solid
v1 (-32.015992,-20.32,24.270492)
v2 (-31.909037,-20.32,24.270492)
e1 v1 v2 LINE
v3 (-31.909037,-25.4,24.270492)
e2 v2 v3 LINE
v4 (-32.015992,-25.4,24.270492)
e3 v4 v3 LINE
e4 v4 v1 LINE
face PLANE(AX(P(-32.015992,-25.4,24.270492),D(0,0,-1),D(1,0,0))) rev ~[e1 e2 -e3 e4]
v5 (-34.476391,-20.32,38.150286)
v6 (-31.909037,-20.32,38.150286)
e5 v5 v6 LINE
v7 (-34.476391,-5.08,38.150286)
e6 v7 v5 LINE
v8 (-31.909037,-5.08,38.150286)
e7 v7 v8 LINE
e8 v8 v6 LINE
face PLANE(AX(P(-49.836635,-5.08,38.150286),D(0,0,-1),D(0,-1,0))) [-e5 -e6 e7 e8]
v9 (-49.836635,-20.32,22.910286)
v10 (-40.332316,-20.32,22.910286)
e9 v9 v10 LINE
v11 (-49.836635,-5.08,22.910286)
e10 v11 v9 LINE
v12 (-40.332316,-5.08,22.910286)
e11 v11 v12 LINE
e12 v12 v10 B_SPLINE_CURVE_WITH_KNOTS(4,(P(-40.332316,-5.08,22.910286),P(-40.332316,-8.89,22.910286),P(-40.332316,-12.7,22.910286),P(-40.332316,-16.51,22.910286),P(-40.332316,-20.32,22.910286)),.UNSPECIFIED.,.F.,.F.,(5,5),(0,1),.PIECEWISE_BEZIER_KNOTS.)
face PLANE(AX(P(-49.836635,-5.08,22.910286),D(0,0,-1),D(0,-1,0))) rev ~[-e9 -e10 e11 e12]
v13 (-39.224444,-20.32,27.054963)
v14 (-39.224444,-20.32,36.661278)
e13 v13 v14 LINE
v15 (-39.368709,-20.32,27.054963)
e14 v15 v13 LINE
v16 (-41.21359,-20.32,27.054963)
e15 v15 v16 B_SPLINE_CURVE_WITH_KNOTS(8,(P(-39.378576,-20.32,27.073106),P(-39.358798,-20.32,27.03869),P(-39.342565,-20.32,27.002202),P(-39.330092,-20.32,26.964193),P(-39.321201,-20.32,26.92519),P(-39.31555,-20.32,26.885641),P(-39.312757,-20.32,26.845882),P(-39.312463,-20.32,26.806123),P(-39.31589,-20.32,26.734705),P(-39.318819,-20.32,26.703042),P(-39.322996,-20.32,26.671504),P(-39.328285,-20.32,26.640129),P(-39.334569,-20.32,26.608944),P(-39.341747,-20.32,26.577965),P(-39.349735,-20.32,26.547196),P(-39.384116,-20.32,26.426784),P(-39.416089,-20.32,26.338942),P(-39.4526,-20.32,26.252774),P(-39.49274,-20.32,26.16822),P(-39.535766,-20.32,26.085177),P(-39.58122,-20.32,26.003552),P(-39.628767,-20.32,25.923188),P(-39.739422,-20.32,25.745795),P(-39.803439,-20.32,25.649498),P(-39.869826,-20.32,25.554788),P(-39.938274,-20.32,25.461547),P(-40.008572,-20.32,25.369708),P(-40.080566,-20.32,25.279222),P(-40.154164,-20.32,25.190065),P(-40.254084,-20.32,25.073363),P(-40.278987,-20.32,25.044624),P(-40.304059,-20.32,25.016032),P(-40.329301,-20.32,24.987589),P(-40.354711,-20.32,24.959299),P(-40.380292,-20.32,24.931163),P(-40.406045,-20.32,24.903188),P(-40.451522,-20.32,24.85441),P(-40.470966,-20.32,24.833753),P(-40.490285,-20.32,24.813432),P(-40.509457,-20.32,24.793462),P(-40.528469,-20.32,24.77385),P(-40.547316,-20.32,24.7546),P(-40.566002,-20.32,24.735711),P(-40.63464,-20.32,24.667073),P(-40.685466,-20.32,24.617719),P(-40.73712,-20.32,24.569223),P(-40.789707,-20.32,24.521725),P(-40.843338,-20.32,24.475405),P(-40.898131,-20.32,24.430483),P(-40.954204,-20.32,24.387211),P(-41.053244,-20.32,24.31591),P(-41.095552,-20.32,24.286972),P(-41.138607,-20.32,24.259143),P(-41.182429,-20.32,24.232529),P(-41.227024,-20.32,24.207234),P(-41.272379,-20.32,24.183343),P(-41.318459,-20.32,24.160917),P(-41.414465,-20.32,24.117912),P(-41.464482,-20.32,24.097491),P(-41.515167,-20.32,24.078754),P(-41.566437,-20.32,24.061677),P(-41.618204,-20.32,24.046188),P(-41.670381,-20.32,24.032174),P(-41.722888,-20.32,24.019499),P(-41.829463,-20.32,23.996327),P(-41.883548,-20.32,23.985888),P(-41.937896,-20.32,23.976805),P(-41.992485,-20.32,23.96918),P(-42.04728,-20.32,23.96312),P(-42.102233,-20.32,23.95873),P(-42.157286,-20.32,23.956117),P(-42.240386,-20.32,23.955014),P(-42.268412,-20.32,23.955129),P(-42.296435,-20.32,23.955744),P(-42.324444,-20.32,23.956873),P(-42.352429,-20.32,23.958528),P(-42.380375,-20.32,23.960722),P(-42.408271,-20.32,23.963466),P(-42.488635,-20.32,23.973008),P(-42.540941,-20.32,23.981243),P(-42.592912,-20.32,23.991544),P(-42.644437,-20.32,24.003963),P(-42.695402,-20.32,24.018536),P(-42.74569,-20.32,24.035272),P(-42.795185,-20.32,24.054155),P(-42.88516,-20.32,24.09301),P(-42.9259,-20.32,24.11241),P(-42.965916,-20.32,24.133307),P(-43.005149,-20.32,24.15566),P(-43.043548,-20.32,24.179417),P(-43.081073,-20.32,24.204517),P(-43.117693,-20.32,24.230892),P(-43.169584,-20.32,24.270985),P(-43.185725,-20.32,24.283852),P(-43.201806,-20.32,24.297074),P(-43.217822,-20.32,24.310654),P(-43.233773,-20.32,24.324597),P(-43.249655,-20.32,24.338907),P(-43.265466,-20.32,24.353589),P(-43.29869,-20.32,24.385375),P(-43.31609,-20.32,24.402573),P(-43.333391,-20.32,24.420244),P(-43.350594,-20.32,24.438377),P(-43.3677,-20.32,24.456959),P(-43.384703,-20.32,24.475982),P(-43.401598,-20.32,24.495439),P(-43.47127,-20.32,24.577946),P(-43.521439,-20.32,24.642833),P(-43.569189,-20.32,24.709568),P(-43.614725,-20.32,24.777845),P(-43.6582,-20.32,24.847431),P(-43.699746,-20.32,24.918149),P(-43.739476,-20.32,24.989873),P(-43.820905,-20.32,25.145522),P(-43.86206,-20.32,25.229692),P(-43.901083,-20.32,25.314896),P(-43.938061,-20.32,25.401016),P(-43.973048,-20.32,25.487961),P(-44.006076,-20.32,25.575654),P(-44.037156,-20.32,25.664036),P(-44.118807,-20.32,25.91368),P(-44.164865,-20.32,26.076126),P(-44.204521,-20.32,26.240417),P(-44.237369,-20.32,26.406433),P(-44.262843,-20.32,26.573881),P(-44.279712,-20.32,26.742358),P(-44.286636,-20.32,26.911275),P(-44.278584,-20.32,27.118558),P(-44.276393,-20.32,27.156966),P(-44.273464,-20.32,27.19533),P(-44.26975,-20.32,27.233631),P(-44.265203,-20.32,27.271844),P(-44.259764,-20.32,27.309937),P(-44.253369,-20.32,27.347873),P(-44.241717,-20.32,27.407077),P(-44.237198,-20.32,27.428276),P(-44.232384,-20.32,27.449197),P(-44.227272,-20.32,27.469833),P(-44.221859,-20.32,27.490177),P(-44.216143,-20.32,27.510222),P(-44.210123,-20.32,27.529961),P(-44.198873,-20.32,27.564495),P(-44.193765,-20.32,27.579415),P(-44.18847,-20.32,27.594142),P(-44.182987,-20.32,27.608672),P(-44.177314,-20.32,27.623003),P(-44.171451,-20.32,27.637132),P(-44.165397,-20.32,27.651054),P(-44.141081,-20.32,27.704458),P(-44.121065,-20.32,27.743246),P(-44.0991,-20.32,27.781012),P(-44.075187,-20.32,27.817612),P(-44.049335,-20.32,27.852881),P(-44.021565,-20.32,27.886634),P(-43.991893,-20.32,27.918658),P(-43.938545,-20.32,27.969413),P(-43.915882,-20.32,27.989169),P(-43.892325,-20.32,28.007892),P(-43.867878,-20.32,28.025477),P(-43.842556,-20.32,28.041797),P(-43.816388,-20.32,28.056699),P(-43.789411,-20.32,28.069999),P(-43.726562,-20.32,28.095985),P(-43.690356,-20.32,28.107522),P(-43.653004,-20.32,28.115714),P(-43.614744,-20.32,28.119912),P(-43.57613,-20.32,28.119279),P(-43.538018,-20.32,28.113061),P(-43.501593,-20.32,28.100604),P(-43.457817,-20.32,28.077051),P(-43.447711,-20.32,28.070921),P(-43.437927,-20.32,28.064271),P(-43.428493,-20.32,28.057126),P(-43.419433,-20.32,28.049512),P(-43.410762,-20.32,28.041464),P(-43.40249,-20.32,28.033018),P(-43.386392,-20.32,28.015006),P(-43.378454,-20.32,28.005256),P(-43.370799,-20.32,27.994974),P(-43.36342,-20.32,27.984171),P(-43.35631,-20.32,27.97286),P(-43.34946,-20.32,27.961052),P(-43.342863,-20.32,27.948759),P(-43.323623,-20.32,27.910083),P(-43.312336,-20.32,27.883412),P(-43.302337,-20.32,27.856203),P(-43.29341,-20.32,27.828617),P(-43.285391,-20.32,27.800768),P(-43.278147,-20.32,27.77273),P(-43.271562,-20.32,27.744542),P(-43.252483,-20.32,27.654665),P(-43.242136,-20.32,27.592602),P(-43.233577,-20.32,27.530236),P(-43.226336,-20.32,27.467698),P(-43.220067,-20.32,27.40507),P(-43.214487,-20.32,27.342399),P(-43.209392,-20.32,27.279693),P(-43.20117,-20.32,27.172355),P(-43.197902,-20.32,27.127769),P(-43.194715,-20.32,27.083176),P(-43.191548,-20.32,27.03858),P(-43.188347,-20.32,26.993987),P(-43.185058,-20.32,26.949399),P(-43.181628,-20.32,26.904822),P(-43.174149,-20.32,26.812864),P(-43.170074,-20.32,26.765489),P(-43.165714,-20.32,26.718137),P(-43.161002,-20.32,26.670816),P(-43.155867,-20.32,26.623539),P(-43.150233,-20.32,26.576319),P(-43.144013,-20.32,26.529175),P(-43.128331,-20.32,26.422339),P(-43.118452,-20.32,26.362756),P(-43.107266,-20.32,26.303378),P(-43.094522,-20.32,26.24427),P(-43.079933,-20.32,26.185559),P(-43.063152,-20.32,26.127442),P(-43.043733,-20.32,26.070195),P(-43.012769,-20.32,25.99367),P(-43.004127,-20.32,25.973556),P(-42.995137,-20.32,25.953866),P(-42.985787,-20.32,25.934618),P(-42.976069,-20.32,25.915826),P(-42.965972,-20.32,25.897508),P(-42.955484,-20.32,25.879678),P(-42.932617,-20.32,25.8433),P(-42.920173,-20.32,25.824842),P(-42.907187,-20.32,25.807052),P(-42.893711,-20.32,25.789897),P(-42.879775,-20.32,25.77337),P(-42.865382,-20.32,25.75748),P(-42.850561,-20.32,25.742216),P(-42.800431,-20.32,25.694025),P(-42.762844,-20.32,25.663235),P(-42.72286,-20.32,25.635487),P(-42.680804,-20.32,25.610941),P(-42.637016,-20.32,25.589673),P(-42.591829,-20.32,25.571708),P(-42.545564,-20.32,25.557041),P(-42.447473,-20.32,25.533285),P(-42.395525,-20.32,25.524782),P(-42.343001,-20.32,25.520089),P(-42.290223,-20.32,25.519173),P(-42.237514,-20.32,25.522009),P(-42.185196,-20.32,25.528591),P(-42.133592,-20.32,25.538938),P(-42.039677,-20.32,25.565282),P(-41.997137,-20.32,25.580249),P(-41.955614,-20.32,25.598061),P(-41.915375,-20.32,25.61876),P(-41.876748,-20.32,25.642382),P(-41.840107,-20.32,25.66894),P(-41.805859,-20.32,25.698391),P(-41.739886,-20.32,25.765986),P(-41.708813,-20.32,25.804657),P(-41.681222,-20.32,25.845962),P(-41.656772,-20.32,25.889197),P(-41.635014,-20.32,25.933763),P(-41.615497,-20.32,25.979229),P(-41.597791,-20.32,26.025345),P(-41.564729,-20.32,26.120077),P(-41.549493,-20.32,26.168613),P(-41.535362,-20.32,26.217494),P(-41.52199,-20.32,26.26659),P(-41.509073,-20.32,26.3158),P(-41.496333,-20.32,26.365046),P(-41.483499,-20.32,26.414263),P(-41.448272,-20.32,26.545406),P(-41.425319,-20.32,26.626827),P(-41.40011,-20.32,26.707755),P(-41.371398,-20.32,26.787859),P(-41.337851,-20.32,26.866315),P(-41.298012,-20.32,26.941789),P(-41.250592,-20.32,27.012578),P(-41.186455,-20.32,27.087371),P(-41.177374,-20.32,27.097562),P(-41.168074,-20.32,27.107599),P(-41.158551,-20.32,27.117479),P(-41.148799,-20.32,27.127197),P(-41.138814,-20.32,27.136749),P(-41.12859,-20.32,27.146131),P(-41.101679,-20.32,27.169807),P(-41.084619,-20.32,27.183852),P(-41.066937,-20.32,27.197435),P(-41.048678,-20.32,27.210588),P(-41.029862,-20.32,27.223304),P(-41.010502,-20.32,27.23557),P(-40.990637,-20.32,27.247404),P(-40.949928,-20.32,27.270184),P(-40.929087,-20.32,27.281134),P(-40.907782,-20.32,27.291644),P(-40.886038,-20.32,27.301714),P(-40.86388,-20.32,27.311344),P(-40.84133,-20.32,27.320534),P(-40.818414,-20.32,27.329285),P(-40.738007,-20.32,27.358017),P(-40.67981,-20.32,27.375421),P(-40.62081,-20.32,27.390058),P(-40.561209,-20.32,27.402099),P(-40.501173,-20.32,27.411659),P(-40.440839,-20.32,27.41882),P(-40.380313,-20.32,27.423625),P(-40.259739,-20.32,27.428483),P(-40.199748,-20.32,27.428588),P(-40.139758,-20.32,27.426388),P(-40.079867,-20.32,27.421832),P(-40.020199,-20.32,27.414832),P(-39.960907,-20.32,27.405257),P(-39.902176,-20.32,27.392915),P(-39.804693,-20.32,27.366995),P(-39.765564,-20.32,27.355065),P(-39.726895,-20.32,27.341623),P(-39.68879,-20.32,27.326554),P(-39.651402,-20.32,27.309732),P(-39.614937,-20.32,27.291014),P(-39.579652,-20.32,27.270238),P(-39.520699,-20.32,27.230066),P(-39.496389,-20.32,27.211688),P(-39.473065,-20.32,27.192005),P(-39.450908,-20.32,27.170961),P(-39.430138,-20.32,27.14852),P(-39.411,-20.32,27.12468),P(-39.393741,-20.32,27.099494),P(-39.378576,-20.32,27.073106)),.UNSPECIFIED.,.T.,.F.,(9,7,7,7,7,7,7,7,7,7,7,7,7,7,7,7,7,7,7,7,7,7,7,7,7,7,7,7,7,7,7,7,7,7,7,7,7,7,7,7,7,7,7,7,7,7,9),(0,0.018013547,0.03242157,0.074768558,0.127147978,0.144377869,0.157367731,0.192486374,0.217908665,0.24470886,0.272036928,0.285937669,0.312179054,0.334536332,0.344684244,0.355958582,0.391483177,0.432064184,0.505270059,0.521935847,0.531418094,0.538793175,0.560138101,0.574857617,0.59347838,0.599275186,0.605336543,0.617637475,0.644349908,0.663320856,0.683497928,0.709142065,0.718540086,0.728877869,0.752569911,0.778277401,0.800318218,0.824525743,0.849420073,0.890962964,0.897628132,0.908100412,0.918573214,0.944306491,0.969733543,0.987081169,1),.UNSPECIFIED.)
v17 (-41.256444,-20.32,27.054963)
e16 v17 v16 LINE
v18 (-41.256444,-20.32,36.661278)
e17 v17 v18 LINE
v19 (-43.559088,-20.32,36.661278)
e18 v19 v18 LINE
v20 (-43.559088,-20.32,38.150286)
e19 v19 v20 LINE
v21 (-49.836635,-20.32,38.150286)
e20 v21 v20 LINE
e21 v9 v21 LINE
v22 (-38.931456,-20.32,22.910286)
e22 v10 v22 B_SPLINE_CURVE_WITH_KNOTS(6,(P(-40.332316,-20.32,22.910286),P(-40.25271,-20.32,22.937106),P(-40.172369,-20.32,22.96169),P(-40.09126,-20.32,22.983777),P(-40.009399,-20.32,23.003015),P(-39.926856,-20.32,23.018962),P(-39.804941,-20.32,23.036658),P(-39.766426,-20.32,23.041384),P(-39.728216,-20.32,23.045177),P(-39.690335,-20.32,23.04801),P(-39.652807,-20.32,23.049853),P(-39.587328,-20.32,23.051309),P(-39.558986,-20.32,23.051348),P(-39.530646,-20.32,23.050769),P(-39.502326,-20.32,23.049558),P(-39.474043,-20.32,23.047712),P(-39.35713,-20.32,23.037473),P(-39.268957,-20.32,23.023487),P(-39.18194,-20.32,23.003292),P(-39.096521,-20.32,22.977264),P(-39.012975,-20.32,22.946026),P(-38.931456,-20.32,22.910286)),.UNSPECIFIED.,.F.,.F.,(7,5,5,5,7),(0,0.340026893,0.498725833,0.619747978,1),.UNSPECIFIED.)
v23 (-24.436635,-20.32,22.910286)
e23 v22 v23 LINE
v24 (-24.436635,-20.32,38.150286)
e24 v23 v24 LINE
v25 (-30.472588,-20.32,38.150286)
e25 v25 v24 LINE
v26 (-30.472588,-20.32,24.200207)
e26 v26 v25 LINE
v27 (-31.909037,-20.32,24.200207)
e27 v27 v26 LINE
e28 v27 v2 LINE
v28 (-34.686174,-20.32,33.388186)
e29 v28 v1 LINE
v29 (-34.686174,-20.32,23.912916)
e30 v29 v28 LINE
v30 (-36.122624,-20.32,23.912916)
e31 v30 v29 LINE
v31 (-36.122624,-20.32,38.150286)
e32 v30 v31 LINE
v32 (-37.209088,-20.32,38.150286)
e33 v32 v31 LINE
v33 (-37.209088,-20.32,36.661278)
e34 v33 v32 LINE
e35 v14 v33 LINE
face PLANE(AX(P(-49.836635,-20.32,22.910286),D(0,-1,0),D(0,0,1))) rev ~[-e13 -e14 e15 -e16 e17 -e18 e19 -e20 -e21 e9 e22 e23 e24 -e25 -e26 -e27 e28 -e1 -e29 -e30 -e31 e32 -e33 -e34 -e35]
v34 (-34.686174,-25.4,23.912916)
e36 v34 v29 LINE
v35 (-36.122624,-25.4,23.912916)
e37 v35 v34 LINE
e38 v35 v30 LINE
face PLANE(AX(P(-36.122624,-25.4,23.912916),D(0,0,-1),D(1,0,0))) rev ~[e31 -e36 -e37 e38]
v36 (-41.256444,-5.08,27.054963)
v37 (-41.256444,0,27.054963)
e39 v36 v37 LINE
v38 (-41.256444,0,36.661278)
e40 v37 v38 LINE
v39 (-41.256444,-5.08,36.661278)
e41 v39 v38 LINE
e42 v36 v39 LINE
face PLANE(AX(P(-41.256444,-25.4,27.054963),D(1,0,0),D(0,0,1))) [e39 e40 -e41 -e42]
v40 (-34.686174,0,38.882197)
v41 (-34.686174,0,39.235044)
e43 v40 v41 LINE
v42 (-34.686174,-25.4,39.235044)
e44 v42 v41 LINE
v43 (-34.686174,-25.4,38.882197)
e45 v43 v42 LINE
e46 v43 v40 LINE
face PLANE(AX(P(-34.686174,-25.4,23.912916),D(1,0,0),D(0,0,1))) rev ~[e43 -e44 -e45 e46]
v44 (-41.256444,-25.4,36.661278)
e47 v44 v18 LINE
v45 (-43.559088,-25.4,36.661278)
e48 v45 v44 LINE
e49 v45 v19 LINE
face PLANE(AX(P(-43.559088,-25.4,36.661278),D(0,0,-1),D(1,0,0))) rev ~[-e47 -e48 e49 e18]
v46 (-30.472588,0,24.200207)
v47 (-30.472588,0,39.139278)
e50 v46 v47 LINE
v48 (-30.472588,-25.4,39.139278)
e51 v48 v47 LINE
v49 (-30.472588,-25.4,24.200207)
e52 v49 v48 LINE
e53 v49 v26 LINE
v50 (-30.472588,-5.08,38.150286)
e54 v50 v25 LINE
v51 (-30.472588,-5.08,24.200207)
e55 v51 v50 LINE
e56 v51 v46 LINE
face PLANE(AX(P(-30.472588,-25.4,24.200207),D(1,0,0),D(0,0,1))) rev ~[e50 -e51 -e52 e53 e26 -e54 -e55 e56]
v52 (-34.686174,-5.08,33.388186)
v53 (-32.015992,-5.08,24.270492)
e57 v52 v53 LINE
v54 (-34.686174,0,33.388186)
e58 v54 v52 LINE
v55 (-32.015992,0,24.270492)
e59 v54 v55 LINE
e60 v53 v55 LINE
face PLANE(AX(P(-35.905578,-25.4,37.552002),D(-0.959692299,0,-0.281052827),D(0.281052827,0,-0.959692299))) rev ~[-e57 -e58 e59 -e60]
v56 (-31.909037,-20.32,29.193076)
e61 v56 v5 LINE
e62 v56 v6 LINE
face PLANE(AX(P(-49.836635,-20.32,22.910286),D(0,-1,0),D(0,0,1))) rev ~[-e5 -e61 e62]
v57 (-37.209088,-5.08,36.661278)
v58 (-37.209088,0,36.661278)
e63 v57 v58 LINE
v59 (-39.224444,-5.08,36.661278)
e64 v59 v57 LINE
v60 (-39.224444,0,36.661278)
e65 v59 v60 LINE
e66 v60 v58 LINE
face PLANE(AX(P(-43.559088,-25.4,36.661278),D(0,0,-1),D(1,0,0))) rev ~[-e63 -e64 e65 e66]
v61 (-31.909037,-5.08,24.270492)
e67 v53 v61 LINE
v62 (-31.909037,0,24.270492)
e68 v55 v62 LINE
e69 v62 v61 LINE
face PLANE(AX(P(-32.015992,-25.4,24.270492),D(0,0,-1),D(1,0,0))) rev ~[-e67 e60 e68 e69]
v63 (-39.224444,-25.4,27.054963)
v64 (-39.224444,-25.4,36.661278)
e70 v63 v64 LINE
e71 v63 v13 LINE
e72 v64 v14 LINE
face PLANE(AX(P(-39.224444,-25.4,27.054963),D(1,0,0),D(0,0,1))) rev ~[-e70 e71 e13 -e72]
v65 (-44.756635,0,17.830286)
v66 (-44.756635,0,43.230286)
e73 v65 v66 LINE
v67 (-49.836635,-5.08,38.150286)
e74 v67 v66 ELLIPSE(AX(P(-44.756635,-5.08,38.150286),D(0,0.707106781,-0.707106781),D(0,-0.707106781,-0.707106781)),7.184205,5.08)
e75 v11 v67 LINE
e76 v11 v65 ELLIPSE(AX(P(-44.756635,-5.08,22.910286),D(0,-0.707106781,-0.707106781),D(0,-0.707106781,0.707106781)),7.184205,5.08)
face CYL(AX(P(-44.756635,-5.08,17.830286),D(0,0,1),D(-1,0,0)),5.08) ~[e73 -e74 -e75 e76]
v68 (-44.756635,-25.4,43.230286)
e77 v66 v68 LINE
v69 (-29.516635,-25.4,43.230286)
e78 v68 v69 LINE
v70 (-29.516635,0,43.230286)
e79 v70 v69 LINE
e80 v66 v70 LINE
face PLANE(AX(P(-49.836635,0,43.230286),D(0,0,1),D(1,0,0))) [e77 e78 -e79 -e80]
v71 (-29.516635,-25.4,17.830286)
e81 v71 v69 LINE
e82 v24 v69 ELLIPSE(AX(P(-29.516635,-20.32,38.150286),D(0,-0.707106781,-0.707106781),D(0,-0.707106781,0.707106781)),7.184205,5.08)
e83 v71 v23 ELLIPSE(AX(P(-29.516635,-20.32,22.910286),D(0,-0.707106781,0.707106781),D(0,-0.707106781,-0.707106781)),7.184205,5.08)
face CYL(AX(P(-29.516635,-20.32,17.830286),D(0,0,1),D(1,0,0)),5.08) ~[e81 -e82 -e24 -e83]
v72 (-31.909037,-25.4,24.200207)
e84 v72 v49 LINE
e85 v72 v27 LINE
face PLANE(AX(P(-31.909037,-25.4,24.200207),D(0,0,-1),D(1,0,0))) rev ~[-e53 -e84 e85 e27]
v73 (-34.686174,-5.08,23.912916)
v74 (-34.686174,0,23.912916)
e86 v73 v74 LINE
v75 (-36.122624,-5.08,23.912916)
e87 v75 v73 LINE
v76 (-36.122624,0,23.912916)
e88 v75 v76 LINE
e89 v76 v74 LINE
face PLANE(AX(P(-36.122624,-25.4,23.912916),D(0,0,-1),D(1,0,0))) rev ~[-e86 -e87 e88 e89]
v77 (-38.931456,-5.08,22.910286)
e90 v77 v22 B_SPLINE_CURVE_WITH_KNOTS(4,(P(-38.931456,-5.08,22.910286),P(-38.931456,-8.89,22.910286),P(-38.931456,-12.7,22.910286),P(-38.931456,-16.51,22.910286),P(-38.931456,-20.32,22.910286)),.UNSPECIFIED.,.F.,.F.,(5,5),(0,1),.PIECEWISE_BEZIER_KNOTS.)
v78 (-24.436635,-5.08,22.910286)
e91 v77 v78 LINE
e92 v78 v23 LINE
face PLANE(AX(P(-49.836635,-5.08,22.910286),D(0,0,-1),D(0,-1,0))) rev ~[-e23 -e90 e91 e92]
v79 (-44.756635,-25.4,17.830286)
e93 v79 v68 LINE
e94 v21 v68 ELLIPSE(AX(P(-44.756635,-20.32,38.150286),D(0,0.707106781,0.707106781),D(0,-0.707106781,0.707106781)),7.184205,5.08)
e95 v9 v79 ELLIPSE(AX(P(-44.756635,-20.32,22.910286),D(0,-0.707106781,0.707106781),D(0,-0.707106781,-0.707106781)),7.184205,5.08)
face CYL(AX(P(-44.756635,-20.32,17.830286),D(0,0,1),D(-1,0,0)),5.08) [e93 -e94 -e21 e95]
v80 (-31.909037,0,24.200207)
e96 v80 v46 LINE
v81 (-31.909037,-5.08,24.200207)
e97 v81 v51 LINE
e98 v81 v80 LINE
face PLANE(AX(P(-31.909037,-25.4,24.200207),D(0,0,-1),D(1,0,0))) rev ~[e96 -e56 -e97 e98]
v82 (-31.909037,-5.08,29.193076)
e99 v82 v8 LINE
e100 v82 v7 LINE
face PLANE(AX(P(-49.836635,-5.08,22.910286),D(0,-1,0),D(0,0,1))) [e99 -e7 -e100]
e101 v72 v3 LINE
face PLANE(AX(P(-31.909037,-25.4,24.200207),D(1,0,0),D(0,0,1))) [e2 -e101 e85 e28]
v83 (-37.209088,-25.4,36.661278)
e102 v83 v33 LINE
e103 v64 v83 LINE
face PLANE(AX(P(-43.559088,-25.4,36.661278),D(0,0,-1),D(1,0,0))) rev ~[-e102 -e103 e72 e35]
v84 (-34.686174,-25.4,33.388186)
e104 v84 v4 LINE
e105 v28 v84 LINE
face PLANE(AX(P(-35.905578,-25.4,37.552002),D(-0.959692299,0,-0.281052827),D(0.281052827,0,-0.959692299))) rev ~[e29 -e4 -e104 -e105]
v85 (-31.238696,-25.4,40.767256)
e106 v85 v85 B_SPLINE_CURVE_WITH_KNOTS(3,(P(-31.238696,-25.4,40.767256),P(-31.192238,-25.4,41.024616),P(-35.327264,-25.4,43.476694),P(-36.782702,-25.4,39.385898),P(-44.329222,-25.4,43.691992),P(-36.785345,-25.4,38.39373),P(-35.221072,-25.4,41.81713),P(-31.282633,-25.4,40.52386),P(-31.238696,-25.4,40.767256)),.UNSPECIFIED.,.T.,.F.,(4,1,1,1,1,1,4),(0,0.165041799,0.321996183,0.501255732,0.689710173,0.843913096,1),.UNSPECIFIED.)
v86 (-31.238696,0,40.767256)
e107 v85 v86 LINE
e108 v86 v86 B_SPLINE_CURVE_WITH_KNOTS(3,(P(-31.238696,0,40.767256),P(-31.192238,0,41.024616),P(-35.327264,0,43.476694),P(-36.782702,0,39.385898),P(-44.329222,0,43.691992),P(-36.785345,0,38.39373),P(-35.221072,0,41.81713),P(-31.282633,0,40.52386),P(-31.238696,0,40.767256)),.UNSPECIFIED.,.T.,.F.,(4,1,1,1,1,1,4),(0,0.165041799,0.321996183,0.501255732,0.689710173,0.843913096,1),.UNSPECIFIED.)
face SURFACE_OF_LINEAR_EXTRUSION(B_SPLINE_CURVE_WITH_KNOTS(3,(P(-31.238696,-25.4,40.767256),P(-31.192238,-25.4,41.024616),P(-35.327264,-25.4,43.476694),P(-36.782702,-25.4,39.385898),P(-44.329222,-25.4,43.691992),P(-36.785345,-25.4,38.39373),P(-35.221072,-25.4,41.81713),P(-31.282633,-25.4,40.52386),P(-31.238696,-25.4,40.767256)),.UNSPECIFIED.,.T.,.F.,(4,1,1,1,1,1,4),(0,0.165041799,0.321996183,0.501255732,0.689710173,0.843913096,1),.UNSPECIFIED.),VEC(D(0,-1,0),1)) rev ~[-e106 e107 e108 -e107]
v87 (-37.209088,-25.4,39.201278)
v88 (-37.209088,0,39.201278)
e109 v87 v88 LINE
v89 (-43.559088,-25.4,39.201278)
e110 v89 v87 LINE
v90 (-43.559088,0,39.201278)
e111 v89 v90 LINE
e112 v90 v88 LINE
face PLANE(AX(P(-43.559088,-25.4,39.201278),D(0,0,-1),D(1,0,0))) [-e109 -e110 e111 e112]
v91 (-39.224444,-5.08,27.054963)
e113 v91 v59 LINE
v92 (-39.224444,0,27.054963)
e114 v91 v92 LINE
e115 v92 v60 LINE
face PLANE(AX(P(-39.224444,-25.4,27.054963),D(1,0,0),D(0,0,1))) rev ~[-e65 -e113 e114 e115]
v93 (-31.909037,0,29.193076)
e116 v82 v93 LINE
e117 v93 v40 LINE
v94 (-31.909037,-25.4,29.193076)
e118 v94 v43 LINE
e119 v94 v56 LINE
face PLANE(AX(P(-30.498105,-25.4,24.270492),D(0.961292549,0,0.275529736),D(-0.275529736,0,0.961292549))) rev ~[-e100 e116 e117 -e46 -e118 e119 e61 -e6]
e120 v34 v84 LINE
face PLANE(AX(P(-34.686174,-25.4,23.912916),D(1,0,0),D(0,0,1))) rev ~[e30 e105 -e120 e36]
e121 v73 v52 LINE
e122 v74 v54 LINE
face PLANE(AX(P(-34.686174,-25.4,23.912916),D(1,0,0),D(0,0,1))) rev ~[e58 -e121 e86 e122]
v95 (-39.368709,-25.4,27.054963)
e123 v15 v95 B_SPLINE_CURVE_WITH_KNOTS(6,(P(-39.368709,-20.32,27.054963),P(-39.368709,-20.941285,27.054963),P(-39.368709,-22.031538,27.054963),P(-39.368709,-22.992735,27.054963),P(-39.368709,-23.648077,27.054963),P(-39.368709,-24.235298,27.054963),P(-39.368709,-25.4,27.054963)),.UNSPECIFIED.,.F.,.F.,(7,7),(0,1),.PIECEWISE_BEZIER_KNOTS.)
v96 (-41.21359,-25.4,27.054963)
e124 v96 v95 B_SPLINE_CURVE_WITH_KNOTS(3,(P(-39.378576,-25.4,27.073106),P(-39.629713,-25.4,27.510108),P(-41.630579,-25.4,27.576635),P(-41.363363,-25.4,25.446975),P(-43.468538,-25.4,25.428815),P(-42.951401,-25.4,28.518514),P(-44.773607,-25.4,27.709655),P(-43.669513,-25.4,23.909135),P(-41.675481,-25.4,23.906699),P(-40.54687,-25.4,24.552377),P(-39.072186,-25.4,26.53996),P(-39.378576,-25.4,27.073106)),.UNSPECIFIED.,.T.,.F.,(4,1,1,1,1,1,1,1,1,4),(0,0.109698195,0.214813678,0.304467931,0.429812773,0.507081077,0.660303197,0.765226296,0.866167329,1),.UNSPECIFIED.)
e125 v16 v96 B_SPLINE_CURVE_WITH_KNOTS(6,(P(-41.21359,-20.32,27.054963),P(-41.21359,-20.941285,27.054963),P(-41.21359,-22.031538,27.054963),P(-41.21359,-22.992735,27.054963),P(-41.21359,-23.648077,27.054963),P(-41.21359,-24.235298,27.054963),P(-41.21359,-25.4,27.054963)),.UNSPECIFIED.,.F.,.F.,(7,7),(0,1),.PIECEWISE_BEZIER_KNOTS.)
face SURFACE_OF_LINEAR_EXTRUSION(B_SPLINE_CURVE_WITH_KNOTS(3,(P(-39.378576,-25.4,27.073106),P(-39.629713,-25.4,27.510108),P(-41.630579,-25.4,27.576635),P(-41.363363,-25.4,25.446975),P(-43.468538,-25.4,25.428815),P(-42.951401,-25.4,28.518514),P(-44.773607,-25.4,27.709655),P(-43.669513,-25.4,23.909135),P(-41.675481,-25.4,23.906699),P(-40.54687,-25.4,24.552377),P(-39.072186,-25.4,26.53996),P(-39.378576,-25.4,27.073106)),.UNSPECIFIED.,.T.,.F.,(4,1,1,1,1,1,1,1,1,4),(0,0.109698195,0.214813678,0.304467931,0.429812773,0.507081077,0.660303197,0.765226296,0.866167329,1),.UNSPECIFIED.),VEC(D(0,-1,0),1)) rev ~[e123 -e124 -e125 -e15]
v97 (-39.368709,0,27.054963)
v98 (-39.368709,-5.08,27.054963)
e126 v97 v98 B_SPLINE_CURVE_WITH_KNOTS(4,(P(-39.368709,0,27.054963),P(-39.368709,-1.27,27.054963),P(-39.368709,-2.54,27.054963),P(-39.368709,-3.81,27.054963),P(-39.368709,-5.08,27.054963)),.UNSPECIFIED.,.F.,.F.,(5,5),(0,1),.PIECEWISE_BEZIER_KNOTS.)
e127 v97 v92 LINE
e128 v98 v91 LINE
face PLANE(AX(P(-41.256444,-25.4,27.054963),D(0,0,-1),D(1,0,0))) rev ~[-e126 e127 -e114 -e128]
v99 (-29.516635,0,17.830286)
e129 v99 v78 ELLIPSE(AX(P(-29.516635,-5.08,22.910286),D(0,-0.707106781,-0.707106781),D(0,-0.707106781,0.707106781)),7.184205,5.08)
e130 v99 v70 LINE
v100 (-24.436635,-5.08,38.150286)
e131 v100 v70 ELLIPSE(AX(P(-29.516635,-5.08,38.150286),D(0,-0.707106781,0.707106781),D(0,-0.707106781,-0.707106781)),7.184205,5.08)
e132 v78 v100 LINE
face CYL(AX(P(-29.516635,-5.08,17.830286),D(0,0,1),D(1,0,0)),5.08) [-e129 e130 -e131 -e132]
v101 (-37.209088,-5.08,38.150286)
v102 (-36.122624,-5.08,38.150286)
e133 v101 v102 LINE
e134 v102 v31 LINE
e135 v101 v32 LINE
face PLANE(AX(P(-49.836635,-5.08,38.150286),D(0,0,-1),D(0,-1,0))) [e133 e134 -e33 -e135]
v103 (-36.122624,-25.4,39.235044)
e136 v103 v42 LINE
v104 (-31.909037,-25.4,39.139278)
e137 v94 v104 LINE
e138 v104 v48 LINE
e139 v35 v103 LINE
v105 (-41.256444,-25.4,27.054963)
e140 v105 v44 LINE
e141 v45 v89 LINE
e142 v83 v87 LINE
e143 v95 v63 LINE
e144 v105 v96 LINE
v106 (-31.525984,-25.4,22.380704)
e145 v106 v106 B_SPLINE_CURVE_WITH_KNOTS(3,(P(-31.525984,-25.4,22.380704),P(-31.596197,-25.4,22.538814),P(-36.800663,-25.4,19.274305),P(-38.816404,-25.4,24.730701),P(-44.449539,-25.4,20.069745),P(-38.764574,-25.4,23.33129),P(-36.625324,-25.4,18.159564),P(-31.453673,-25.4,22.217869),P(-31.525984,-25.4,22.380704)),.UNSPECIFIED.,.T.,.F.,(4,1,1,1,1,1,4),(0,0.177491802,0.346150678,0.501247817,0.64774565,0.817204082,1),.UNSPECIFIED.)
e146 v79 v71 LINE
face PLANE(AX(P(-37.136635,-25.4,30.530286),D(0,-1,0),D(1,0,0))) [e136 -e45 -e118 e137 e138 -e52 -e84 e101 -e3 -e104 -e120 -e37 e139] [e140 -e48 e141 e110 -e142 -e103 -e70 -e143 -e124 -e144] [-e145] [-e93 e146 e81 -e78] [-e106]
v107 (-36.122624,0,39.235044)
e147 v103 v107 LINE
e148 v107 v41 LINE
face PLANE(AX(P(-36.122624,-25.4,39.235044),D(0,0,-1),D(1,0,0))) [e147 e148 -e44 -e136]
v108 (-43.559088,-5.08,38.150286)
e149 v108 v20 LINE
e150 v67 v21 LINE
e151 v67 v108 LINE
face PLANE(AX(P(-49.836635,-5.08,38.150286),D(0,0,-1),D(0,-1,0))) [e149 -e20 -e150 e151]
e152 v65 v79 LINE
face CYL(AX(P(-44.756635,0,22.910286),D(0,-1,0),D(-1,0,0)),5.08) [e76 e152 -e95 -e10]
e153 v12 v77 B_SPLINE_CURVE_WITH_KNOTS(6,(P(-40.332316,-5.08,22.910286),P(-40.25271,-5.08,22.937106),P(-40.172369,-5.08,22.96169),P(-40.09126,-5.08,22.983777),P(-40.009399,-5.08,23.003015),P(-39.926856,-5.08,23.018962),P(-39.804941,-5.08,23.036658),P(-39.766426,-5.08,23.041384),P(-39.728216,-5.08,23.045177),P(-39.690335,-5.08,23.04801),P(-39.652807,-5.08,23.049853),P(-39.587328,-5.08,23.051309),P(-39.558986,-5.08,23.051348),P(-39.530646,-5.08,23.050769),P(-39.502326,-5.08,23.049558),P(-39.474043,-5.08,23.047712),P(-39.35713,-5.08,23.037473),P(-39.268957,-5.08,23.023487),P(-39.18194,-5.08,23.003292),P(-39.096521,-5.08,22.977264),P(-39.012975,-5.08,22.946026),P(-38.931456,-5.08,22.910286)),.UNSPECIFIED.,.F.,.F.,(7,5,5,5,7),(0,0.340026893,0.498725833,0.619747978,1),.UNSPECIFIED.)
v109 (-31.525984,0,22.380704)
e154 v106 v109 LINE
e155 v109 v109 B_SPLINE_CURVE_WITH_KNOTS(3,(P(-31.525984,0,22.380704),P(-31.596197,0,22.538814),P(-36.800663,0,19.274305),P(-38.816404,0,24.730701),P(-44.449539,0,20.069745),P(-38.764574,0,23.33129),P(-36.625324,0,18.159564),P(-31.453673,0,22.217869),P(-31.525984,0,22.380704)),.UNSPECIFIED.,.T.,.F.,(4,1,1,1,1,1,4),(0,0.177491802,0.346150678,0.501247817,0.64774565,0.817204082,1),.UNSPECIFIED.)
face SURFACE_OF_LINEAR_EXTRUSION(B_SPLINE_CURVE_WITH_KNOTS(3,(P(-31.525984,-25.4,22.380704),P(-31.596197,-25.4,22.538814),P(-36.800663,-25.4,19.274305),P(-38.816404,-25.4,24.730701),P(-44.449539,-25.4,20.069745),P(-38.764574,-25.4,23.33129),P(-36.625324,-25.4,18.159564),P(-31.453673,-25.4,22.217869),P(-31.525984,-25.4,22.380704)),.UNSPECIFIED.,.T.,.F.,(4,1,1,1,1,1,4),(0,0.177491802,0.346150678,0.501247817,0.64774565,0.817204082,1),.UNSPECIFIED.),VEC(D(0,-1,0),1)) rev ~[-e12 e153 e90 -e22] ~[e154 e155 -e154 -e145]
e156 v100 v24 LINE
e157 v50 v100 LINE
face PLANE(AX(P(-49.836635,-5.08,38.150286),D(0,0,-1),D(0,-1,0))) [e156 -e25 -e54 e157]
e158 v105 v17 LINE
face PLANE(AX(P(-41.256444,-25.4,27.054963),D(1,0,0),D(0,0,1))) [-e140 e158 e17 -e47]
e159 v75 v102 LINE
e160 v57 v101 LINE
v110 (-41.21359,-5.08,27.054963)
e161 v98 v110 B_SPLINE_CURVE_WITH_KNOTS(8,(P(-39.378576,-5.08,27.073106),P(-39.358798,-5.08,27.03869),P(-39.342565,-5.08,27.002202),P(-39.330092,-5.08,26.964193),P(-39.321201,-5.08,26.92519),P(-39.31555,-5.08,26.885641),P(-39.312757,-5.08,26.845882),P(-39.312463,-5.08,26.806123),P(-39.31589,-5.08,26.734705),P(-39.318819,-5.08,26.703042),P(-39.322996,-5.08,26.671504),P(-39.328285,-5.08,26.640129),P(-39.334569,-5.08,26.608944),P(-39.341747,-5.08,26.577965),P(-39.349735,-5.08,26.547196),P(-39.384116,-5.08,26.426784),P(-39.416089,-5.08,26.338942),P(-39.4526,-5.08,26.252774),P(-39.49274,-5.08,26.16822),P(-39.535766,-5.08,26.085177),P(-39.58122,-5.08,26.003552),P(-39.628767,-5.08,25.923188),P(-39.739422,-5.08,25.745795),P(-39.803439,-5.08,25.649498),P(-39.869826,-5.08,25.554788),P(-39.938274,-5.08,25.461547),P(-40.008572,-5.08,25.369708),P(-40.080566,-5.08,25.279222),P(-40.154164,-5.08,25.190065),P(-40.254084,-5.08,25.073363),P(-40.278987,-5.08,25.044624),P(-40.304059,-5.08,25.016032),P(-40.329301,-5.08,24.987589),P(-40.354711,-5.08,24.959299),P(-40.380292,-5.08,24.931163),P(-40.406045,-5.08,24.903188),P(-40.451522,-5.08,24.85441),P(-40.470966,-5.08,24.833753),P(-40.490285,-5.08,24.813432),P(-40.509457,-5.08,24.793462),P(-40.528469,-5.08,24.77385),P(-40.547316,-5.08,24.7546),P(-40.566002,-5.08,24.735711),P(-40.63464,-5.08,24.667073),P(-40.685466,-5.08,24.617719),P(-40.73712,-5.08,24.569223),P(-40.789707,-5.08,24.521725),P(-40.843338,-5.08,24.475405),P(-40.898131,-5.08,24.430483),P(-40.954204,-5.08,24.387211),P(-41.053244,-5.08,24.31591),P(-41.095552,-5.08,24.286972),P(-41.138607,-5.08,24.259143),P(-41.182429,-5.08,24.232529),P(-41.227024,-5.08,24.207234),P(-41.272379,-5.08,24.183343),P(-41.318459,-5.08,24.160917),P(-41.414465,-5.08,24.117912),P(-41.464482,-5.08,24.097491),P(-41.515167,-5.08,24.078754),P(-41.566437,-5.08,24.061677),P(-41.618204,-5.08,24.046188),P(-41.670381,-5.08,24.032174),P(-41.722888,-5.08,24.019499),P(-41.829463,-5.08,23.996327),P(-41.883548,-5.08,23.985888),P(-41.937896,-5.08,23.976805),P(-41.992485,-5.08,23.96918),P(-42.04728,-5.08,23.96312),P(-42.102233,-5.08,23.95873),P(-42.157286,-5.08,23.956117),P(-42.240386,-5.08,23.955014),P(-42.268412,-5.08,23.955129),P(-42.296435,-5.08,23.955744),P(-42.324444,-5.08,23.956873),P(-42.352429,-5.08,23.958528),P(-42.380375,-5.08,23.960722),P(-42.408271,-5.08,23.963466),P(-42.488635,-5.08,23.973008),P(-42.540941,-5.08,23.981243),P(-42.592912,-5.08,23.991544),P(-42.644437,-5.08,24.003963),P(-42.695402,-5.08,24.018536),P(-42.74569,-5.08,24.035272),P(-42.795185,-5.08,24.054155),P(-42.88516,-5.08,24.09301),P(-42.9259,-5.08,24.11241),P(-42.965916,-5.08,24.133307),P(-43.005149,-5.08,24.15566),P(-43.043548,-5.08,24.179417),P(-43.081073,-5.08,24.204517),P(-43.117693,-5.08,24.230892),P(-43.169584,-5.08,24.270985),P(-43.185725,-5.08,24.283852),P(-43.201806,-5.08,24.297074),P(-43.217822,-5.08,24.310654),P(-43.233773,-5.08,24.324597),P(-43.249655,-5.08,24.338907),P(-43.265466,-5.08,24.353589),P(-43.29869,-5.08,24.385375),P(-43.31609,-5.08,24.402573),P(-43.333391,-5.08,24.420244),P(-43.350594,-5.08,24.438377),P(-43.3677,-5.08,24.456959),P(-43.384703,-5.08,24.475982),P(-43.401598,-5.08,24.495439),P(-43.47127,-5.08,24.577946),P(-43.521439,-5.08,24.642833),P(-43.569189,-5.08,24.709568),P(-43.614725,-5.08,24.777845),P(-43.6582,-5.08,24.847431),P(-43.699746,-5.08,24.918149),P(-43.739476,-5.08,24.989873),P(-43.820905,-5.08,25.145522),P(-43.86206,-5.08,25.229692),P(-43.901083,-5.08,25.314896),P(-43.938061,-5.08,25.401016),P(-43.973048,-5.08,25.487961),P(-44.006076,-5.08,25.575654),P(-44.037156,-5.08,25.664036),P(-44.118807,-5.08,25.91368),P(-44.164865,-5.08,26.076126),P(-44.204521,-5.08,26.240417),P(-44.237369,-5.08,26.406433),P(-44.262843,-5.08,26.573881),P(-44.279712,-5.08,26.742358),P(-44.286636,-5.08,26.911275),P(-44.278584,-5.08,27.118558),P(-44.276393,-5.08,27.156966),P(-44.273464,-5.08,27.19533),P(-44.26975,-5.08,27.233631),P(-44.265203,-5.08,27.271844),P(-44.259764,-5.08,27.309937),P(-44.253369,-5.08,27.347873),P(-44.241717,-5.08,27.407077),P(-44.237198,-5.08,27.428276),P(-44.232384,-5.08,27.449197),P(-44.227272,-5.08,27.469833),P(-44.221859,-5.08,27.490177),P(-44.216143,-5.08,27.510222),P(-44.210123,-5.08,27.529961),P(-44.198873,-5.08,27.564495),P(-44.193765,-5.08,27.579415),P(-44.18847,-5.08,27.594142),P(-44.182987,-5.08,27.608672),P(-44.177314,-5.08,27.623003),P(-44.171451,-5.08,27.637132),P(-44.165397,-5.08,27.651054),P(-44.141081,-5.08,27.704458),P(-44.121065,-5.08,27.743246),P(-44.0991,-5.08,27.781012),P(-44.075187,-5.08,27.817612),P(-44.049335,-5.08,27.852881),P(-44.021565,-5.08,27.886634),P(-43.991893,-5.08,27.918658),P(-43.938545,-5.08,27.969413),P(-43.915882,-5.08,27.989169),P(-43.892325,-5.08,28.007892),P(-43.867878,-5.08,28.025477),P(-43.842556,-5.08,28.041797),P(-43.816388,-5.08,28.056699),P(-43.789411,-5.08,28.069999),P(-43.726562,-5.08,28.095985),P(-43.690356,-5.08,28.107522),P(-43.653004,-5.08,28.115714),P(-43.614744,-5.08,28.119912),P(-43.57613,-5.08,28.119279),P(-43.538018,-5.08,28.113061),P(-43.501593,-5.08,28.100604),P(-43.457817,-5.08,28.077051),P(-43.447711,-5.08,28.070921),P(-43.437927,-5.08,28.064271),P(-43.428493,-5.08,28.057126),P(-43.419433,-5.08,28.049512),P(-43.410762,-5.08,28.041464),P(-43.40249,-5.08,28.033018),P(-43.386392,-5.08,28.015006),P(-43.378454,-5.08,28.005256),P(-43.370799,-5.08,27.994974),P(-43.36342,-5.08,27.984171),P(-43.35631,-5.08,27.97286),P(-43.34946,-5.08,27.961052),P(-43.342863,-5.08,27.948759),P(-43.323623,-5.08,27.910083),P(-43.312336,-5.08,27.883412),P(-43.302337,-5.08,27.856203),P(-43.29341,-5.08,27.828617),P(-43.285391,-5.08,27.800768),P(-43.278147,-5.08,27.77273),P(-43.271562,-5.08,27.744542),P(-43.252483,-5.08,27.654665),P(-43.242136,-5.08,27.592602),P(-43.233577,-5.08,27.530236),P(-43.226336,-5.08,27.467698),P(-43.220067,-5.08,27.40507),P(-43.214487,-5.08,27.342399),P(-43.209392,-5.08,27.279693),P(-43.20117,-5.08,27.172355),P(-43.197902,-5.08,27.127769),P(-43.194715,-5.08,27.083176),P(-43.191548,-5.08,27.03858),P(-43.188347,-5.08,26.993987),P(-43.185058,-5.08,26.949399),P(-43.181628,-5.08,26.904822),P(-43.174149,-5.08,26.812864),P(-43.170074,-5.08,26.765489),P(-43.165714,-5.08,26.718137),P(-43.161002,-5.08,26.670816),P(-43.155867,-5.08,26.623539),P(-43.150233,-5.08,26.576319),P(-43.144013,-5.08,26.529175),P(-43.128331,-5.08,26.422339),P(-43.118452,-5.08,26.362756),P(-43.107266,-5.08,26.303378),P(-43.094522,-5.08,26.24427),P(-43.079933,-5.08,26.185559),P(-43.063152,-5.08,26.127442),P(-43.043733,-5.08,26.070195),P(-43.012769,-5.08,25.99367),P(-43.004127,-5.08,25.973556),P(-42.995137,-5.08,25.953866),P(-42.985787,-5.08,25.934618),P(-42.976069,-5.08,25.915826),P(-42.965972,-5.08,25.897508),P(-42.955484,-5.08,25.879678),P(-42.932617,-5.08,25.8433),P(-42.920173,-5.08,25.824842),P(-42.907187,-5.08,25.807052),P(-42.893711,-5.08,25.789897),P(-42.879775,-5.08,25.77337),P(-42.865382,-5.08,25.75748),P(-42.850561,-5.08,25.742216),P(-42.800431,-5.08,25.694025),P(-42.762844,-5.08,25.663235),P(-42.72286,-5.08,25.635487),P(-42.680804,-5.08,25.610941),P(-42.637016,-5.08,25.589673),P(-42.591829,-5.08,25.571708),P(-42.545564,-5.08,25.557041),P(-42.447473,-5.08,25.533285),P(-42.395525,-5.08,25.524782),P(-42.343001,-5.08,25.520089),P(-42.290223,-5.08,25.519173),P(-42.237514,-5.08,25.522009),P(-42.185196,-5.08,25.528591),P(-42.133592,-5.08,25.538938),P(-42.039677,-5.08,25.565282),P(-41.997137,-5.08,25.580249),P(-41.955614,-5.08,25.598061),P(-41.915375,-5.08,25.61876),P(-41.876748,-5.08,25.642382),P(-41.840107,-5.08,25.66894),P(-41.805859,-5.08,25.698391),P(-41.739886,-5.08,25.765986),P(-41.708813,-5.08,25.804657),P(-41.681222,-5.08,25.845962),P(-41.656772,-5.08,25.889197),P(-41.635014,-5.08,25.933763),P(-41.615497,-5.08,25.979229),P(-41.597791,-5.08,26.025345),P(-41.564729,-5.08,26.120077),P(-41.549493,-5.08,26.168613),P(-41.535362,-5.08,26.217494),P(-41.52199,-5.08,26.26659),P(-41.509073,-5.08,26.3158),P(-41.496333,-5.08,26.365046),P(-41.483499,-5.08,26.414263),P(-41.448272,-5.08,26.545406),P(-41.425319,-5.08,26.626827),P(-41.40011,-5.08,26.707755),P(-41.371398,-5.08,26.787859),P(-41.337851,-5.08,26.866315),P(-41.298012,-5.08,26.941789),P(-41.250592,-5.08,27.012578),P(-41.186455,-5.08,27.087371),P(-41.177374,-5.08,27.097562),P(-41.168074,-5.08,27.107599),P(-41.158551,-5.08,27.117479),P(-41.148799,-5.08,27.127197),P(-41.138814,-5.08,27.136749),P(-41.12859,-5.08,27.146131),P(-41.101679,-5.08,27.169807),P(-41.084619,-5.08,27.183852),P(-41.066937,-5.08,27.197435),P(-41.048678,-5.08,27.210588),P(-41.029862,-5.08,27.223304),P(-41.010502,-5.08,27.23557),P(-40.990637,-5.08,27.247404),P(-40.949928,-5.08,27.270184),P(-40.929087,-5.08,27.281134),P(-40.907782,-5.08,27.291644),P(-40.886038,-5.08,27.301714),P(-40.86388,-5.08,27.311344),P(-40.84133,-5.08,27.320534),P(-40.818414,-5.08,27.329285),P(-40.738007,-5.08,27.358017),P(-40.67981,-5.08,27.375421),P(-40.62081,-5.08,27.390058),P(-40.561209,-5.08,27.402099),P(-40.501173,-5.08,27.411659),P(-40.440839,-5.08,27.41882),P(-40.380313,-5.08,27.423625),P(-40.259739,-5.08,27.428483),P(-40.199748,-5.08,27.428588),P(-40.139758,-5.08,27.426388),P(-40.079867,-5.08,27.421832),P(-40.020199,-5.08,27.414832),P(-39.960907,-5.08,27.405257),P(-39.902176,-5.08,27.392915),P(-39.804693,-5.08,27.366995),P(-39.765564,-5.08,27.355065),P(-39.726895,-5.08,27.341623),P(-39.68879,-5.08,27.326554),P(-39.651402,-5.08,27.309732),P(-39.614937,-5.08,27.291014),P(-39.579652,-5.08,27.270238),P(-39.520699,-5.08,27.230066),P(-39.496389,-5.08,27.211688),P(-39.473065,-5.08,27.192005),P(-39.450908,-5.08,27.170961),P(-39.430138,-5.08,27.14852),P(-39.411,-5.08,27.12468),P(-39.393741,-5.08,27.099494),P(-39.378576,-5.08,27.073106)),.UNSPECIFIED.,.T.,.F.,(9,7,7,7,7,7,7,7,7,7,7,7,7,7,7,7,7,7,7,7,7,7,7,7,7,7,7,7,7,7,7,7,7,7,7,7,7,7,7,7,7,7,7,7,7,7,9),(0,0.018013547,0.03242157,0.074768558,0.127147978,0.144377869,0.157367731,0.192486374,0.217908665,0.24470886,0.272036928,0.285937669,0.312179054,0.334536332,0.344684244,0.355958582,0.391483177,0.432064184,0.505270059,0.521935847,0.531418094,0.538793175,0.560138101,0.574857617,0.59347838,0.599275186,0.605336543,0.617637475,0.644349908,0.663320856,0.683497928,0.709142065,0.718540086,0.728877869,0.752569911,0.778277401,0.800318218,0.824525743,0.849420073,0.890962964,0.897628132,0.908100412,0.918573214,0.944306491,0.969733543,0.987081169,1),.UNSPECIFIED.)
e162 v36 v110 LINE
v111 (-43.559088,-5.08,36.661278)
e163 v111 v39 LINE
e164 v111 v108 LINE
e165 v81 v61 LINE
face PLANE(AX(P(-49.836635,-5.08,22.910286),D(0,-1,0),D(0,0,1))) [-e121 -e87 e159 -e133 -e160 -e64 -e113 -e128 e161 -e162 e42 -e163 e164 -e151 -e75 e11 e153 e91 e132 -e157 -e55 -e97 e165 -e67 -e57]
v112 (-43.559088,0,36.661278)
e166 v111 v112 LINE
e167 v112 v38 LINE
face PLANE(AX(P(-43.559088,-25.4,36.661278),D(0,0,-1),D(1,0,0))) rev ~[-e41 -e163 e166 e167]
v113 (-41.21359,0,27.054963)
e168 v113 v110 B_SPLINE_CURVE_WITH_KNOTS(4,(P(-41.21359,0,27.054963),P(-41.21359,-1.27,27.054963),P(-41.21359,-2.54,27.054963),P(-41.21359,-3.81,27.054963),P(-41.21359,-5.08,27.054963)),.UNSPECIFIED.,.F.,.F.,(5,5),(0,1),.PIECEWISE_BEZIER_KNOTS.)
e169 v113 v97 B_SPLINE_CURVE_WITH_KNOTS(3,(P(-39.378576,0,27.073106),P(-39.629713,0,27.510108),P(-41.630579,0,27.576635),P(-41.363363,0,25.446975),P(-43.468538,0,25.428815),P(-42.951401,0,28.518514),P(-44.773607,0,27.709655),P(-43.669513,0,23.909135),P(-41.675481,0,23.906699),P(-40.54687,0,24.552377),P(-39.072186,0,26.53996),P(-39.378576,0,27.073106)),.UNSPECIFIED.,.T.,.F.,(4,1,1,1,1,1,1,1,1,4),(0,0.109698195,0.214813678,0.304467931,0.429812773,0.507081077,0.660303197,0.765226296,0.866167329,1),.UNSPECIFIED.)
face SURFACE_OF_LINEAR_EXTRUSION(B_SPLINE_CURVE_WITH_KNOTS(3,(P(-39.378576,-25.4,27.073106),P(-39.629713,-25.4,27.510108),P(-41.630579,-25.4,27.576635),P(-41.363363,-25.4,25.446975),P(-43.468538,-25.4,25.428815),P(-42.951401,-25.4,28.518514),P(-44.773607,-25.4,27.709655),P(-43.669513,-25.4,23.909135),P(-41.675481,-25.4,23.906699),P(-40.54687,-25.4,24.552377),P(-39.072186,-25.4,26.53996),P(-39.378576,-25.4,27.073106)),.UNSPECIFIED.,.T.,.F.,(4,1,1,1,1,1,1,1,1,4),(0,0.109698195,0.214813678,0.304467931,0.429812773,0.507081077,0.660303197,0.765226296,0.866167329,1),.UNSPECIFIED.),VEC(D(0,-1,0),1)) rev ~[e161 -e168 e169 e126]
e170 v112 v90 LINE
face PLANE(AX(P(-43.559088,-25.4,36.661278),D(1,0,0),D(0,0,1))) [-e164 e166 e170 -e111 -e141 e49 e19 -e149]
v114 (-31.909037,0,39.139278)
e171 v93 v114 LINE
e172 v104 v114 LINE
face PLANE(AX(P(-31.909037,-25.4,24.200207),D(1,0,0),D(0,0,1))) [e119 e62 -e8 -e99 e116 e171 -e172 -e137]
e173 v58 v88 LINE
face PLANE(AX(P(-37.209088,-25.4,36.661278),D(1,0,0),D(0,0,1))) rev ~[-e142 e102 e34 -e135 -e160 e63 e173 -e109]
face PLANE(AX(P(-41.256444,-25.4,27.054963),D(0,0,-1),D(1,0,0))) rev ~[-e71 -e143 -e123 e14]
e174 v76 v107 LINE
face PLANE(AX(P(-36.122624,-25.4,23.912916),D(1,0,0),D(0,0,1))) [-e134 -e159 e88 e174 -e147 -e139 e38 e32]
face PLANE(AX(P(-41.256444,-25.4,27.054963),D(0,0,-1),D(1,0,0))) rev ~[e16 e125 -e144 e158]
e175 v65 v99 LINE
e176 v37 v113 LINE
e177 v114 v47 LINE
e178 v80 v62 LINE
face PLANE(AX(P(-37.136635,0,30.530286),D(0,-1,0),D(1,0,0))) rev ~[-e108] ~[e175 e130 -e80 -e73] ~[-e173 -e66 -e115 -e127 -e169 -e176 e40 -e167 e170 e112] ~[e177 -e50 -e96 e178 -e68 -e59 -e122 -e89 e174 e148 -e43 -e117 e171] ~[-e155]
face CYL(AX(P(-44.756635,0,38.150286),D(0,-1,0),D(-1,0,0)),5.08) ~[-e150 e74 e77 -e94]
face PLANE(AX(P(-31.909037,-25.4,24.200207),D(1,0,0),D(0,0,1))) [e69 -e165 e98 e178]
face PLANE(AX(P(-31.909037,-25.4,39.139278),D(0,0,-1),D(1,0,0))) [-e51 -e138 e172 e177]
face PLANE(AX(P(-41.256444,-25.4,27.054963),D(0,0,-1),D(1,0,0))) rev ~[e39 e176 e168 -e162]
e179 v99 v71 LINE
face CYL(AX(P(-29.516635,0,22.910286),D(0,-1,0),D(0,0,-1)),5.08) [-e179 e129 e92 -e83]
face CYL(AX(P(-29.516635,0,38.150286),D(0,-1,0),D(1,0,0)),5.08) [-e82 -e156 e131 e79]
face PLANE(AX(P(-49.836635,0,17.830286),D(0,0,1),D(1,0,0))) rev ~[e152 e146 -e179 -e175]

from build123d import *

# Parameters (mm, degrees)
F0_W      = 25.4
F0_H      = 25.4
F1_DEPTH  = 25.4
F2_R      = 5.08
F3_DEPTH  = 25.401
F4_W      = 6.35
F4_H      = 2.54
F6_DEPTH  = 25.4
F5_W      = 2.032
F5_H      = 9.6063148866
F7_DEPTH  = 25.4
F12_DEPTH = 25.4
F11_W     = 1.4364495873
F11_H     = 14.9390716106
F13_DEPTH = 25.4
F9_W      = 1.4364495873
F9_H      = 15.3221283108
F14_DEPTH = 25.4
F15_DEPTH = 25.4
F17_DEPTH = 25.4
F19_DEPTH = 25.4


with BuildPart() as f1:
    # F0 (on Front) → F1 (new body)
    with BuildSketch(Plane.XZ):
        with Locations((-37.1366348118, 30.5302856235)):
            Rectangle(F0_W, F0_H)
    extrude(amount=F1_DEPTH)

    # F2
    f2_edges = [f1.edges().sort_by_distance(p)[0] for p in [
        (-49.836635, -12.7, 43.230286),
        (-49.836635, -12.7, 17.830286),
        (-49.836635, 0, 30.530286),
        (-49.836635, -25.4, 30.530286),
        (-24.436635, -12.7, 17.830286),
        (-24.436635, -12.7, 43.230286),
        (-24.436635, 0, 30.530286),
        (-24.436635, -25.4, 30.530286),
    ]]
    fillet(f2_edges, radius=F2_R)

    # F3 (cut, through all): a face of the model
    f3_faces = [f1.faces().sort_by_distance(p)[0] for p in [
        (-49.8366348118, -12.7, 30.5302856235),
    ]]
    extrude(f3_faces, amount=-F3_DEPTH, mode=Mode.SUBTRACT)

    # F4 (on face) → F6 (cut)
    with BuildSketch(Plane.XZ.offset(25.4)):
        with Locations((-40.3840877116, 37.9312783699)):
            Rectangle(F4_W, F4_H)
    extrude(amount=-F6_DEPTH, mode=Mode.SUBTRACT)

    # F5 (on face) → F7 (cut)
    with BuildSketch(Plane.XZ.offset(25.4)):
        with Locations((-40.240444243, 31.8581209266)):
            Rectangle(F5_W, F5_H)
    extrude(amount=-F7_DEPTH, mode=Mode.SUBTRACT)

    # F10 (on face) → F12 (cut)
    with BuildSketch(Plane.XZ.offset(25.4)):
        Polygon((-30.4981054399, 24.2704920713), (-34.7671631767, 39.164758822), (-35.9055778351, 37.5520019547), (-32.0159916511, 24.2704920713), align=None)
    extrude(amount=-F12_DEPTH, mode=Mode.SUBTRACT)

    # F11 (on face) → F13 (cut)
    with BuildSketch(Plane.XZ.offset(25.4)):
        with Locations((-31.1908125877, 31.6697424278)):
            Rectangle(F11_W, F11_H)
    extrude(amount=-F13_DEPTH, mode=Mode.SUBTRACT)

    # F9 (on face) → F14 (cut)
    with BuildSketch(Plane.XZ.offset(25.4)):
        with Locations((-35.4043990374, 31.5739801154)):
            Rectangle(F9_W, F9_H)
    extrude(amount=-F14_DEPTH, mode=Mode.SUBTRACT)

    # F8 (on face) → F15 (cut)
    with BuildSketch(Plane.XZ.offset(25.4)):
        with BuildLine():
            add(Edge.make_bspline(
                [(-39.3785759807, 27.0731057972), (-39.6297133803, 27.5101075995), (-41.6305791857, 27.5766352736), (-41.3633630788, 25.4469751003), (-43.468537695, 25.4288154055), (-42.9514008661, 28.5185136783), (-44.7736072163, 27.70965453), (-43.6695125766, 23.9091346935), (-41.6754810465, 23.9066994915), (-40.5468704729, 24.552377368), (-39.0721863535, 26.5399601187), (-39.3785759807, 27.0731057972)],
                knots=[0, 0, 0, 0, 0.1096981949, 0.2148136782, 0.3044679313, 0.4298127733, 0.507081077, 0.6603031975, 0.765226296, 0.8661673288, 1, 1, 1, 1], degree=3))
        make_face()
    extrude(amount=-F15_DEPTH, mode=Mode.SUBTRACT)

    # F16 (on face) → F17 (cut)
    with BuildSketch(Plane.XZ.offset(25.4)):
        with BuildLine():
            add(Edge.make_bspline(
                [(-31.5259844065, 22.3807040602), (-31.5961972832, 22.538814454), (-36.8006626146, 19.2743049977), (-38.8164037698, 24.7307012119), (-44.449538713, 20.0697445949), (-38.7645740046, 23.3312898304), (-36.6253237865, 18.1595639979), (-31.4536733074, 22.2178687389), (-31.5259844065, 22.3807040602)],
                knots=[0, 0, 0, 0, 0.1774918016, 0.3461506783, 0.501247817, 0.6477456499, 0.8172040822, 1, 1, 1, 1], degree=3))
        make_face()
    extrude(amount=-F17_DEPTH, mode=Mode.SUBTRACT)

    # F18 (on face) → F19 (cut)
    with BuildSketch(Plane.XZ.offset(25.4)):
        with BuildLine():
            add(Edge.make_bspline(
                [(-31.2386956066, 40.7672561705), (-31.1922379341, 41.0246157697), (-35.3272636294, 43.4766944095), (-36.782701932, 39.3858975337), (-44.3292215264, 43.6919919205), (-36.7853449169, 38.393730281), (-35.2210721649, 41.817129548), (-31.2826325627, 40.5238604768), (-31.2386956066, 40.7672561705)],
                knots=[0, 0, 0, 0, 0.1650417986, 0.3219961829, 0.5012557315, 0.6897101732, 0.8439130959, 1, 1, 1, 1], degree=3))
        make_face()
    extrude(amount=-F19_DEPTH, mode=Mode.SUBTRACT)


solid = f1.part
